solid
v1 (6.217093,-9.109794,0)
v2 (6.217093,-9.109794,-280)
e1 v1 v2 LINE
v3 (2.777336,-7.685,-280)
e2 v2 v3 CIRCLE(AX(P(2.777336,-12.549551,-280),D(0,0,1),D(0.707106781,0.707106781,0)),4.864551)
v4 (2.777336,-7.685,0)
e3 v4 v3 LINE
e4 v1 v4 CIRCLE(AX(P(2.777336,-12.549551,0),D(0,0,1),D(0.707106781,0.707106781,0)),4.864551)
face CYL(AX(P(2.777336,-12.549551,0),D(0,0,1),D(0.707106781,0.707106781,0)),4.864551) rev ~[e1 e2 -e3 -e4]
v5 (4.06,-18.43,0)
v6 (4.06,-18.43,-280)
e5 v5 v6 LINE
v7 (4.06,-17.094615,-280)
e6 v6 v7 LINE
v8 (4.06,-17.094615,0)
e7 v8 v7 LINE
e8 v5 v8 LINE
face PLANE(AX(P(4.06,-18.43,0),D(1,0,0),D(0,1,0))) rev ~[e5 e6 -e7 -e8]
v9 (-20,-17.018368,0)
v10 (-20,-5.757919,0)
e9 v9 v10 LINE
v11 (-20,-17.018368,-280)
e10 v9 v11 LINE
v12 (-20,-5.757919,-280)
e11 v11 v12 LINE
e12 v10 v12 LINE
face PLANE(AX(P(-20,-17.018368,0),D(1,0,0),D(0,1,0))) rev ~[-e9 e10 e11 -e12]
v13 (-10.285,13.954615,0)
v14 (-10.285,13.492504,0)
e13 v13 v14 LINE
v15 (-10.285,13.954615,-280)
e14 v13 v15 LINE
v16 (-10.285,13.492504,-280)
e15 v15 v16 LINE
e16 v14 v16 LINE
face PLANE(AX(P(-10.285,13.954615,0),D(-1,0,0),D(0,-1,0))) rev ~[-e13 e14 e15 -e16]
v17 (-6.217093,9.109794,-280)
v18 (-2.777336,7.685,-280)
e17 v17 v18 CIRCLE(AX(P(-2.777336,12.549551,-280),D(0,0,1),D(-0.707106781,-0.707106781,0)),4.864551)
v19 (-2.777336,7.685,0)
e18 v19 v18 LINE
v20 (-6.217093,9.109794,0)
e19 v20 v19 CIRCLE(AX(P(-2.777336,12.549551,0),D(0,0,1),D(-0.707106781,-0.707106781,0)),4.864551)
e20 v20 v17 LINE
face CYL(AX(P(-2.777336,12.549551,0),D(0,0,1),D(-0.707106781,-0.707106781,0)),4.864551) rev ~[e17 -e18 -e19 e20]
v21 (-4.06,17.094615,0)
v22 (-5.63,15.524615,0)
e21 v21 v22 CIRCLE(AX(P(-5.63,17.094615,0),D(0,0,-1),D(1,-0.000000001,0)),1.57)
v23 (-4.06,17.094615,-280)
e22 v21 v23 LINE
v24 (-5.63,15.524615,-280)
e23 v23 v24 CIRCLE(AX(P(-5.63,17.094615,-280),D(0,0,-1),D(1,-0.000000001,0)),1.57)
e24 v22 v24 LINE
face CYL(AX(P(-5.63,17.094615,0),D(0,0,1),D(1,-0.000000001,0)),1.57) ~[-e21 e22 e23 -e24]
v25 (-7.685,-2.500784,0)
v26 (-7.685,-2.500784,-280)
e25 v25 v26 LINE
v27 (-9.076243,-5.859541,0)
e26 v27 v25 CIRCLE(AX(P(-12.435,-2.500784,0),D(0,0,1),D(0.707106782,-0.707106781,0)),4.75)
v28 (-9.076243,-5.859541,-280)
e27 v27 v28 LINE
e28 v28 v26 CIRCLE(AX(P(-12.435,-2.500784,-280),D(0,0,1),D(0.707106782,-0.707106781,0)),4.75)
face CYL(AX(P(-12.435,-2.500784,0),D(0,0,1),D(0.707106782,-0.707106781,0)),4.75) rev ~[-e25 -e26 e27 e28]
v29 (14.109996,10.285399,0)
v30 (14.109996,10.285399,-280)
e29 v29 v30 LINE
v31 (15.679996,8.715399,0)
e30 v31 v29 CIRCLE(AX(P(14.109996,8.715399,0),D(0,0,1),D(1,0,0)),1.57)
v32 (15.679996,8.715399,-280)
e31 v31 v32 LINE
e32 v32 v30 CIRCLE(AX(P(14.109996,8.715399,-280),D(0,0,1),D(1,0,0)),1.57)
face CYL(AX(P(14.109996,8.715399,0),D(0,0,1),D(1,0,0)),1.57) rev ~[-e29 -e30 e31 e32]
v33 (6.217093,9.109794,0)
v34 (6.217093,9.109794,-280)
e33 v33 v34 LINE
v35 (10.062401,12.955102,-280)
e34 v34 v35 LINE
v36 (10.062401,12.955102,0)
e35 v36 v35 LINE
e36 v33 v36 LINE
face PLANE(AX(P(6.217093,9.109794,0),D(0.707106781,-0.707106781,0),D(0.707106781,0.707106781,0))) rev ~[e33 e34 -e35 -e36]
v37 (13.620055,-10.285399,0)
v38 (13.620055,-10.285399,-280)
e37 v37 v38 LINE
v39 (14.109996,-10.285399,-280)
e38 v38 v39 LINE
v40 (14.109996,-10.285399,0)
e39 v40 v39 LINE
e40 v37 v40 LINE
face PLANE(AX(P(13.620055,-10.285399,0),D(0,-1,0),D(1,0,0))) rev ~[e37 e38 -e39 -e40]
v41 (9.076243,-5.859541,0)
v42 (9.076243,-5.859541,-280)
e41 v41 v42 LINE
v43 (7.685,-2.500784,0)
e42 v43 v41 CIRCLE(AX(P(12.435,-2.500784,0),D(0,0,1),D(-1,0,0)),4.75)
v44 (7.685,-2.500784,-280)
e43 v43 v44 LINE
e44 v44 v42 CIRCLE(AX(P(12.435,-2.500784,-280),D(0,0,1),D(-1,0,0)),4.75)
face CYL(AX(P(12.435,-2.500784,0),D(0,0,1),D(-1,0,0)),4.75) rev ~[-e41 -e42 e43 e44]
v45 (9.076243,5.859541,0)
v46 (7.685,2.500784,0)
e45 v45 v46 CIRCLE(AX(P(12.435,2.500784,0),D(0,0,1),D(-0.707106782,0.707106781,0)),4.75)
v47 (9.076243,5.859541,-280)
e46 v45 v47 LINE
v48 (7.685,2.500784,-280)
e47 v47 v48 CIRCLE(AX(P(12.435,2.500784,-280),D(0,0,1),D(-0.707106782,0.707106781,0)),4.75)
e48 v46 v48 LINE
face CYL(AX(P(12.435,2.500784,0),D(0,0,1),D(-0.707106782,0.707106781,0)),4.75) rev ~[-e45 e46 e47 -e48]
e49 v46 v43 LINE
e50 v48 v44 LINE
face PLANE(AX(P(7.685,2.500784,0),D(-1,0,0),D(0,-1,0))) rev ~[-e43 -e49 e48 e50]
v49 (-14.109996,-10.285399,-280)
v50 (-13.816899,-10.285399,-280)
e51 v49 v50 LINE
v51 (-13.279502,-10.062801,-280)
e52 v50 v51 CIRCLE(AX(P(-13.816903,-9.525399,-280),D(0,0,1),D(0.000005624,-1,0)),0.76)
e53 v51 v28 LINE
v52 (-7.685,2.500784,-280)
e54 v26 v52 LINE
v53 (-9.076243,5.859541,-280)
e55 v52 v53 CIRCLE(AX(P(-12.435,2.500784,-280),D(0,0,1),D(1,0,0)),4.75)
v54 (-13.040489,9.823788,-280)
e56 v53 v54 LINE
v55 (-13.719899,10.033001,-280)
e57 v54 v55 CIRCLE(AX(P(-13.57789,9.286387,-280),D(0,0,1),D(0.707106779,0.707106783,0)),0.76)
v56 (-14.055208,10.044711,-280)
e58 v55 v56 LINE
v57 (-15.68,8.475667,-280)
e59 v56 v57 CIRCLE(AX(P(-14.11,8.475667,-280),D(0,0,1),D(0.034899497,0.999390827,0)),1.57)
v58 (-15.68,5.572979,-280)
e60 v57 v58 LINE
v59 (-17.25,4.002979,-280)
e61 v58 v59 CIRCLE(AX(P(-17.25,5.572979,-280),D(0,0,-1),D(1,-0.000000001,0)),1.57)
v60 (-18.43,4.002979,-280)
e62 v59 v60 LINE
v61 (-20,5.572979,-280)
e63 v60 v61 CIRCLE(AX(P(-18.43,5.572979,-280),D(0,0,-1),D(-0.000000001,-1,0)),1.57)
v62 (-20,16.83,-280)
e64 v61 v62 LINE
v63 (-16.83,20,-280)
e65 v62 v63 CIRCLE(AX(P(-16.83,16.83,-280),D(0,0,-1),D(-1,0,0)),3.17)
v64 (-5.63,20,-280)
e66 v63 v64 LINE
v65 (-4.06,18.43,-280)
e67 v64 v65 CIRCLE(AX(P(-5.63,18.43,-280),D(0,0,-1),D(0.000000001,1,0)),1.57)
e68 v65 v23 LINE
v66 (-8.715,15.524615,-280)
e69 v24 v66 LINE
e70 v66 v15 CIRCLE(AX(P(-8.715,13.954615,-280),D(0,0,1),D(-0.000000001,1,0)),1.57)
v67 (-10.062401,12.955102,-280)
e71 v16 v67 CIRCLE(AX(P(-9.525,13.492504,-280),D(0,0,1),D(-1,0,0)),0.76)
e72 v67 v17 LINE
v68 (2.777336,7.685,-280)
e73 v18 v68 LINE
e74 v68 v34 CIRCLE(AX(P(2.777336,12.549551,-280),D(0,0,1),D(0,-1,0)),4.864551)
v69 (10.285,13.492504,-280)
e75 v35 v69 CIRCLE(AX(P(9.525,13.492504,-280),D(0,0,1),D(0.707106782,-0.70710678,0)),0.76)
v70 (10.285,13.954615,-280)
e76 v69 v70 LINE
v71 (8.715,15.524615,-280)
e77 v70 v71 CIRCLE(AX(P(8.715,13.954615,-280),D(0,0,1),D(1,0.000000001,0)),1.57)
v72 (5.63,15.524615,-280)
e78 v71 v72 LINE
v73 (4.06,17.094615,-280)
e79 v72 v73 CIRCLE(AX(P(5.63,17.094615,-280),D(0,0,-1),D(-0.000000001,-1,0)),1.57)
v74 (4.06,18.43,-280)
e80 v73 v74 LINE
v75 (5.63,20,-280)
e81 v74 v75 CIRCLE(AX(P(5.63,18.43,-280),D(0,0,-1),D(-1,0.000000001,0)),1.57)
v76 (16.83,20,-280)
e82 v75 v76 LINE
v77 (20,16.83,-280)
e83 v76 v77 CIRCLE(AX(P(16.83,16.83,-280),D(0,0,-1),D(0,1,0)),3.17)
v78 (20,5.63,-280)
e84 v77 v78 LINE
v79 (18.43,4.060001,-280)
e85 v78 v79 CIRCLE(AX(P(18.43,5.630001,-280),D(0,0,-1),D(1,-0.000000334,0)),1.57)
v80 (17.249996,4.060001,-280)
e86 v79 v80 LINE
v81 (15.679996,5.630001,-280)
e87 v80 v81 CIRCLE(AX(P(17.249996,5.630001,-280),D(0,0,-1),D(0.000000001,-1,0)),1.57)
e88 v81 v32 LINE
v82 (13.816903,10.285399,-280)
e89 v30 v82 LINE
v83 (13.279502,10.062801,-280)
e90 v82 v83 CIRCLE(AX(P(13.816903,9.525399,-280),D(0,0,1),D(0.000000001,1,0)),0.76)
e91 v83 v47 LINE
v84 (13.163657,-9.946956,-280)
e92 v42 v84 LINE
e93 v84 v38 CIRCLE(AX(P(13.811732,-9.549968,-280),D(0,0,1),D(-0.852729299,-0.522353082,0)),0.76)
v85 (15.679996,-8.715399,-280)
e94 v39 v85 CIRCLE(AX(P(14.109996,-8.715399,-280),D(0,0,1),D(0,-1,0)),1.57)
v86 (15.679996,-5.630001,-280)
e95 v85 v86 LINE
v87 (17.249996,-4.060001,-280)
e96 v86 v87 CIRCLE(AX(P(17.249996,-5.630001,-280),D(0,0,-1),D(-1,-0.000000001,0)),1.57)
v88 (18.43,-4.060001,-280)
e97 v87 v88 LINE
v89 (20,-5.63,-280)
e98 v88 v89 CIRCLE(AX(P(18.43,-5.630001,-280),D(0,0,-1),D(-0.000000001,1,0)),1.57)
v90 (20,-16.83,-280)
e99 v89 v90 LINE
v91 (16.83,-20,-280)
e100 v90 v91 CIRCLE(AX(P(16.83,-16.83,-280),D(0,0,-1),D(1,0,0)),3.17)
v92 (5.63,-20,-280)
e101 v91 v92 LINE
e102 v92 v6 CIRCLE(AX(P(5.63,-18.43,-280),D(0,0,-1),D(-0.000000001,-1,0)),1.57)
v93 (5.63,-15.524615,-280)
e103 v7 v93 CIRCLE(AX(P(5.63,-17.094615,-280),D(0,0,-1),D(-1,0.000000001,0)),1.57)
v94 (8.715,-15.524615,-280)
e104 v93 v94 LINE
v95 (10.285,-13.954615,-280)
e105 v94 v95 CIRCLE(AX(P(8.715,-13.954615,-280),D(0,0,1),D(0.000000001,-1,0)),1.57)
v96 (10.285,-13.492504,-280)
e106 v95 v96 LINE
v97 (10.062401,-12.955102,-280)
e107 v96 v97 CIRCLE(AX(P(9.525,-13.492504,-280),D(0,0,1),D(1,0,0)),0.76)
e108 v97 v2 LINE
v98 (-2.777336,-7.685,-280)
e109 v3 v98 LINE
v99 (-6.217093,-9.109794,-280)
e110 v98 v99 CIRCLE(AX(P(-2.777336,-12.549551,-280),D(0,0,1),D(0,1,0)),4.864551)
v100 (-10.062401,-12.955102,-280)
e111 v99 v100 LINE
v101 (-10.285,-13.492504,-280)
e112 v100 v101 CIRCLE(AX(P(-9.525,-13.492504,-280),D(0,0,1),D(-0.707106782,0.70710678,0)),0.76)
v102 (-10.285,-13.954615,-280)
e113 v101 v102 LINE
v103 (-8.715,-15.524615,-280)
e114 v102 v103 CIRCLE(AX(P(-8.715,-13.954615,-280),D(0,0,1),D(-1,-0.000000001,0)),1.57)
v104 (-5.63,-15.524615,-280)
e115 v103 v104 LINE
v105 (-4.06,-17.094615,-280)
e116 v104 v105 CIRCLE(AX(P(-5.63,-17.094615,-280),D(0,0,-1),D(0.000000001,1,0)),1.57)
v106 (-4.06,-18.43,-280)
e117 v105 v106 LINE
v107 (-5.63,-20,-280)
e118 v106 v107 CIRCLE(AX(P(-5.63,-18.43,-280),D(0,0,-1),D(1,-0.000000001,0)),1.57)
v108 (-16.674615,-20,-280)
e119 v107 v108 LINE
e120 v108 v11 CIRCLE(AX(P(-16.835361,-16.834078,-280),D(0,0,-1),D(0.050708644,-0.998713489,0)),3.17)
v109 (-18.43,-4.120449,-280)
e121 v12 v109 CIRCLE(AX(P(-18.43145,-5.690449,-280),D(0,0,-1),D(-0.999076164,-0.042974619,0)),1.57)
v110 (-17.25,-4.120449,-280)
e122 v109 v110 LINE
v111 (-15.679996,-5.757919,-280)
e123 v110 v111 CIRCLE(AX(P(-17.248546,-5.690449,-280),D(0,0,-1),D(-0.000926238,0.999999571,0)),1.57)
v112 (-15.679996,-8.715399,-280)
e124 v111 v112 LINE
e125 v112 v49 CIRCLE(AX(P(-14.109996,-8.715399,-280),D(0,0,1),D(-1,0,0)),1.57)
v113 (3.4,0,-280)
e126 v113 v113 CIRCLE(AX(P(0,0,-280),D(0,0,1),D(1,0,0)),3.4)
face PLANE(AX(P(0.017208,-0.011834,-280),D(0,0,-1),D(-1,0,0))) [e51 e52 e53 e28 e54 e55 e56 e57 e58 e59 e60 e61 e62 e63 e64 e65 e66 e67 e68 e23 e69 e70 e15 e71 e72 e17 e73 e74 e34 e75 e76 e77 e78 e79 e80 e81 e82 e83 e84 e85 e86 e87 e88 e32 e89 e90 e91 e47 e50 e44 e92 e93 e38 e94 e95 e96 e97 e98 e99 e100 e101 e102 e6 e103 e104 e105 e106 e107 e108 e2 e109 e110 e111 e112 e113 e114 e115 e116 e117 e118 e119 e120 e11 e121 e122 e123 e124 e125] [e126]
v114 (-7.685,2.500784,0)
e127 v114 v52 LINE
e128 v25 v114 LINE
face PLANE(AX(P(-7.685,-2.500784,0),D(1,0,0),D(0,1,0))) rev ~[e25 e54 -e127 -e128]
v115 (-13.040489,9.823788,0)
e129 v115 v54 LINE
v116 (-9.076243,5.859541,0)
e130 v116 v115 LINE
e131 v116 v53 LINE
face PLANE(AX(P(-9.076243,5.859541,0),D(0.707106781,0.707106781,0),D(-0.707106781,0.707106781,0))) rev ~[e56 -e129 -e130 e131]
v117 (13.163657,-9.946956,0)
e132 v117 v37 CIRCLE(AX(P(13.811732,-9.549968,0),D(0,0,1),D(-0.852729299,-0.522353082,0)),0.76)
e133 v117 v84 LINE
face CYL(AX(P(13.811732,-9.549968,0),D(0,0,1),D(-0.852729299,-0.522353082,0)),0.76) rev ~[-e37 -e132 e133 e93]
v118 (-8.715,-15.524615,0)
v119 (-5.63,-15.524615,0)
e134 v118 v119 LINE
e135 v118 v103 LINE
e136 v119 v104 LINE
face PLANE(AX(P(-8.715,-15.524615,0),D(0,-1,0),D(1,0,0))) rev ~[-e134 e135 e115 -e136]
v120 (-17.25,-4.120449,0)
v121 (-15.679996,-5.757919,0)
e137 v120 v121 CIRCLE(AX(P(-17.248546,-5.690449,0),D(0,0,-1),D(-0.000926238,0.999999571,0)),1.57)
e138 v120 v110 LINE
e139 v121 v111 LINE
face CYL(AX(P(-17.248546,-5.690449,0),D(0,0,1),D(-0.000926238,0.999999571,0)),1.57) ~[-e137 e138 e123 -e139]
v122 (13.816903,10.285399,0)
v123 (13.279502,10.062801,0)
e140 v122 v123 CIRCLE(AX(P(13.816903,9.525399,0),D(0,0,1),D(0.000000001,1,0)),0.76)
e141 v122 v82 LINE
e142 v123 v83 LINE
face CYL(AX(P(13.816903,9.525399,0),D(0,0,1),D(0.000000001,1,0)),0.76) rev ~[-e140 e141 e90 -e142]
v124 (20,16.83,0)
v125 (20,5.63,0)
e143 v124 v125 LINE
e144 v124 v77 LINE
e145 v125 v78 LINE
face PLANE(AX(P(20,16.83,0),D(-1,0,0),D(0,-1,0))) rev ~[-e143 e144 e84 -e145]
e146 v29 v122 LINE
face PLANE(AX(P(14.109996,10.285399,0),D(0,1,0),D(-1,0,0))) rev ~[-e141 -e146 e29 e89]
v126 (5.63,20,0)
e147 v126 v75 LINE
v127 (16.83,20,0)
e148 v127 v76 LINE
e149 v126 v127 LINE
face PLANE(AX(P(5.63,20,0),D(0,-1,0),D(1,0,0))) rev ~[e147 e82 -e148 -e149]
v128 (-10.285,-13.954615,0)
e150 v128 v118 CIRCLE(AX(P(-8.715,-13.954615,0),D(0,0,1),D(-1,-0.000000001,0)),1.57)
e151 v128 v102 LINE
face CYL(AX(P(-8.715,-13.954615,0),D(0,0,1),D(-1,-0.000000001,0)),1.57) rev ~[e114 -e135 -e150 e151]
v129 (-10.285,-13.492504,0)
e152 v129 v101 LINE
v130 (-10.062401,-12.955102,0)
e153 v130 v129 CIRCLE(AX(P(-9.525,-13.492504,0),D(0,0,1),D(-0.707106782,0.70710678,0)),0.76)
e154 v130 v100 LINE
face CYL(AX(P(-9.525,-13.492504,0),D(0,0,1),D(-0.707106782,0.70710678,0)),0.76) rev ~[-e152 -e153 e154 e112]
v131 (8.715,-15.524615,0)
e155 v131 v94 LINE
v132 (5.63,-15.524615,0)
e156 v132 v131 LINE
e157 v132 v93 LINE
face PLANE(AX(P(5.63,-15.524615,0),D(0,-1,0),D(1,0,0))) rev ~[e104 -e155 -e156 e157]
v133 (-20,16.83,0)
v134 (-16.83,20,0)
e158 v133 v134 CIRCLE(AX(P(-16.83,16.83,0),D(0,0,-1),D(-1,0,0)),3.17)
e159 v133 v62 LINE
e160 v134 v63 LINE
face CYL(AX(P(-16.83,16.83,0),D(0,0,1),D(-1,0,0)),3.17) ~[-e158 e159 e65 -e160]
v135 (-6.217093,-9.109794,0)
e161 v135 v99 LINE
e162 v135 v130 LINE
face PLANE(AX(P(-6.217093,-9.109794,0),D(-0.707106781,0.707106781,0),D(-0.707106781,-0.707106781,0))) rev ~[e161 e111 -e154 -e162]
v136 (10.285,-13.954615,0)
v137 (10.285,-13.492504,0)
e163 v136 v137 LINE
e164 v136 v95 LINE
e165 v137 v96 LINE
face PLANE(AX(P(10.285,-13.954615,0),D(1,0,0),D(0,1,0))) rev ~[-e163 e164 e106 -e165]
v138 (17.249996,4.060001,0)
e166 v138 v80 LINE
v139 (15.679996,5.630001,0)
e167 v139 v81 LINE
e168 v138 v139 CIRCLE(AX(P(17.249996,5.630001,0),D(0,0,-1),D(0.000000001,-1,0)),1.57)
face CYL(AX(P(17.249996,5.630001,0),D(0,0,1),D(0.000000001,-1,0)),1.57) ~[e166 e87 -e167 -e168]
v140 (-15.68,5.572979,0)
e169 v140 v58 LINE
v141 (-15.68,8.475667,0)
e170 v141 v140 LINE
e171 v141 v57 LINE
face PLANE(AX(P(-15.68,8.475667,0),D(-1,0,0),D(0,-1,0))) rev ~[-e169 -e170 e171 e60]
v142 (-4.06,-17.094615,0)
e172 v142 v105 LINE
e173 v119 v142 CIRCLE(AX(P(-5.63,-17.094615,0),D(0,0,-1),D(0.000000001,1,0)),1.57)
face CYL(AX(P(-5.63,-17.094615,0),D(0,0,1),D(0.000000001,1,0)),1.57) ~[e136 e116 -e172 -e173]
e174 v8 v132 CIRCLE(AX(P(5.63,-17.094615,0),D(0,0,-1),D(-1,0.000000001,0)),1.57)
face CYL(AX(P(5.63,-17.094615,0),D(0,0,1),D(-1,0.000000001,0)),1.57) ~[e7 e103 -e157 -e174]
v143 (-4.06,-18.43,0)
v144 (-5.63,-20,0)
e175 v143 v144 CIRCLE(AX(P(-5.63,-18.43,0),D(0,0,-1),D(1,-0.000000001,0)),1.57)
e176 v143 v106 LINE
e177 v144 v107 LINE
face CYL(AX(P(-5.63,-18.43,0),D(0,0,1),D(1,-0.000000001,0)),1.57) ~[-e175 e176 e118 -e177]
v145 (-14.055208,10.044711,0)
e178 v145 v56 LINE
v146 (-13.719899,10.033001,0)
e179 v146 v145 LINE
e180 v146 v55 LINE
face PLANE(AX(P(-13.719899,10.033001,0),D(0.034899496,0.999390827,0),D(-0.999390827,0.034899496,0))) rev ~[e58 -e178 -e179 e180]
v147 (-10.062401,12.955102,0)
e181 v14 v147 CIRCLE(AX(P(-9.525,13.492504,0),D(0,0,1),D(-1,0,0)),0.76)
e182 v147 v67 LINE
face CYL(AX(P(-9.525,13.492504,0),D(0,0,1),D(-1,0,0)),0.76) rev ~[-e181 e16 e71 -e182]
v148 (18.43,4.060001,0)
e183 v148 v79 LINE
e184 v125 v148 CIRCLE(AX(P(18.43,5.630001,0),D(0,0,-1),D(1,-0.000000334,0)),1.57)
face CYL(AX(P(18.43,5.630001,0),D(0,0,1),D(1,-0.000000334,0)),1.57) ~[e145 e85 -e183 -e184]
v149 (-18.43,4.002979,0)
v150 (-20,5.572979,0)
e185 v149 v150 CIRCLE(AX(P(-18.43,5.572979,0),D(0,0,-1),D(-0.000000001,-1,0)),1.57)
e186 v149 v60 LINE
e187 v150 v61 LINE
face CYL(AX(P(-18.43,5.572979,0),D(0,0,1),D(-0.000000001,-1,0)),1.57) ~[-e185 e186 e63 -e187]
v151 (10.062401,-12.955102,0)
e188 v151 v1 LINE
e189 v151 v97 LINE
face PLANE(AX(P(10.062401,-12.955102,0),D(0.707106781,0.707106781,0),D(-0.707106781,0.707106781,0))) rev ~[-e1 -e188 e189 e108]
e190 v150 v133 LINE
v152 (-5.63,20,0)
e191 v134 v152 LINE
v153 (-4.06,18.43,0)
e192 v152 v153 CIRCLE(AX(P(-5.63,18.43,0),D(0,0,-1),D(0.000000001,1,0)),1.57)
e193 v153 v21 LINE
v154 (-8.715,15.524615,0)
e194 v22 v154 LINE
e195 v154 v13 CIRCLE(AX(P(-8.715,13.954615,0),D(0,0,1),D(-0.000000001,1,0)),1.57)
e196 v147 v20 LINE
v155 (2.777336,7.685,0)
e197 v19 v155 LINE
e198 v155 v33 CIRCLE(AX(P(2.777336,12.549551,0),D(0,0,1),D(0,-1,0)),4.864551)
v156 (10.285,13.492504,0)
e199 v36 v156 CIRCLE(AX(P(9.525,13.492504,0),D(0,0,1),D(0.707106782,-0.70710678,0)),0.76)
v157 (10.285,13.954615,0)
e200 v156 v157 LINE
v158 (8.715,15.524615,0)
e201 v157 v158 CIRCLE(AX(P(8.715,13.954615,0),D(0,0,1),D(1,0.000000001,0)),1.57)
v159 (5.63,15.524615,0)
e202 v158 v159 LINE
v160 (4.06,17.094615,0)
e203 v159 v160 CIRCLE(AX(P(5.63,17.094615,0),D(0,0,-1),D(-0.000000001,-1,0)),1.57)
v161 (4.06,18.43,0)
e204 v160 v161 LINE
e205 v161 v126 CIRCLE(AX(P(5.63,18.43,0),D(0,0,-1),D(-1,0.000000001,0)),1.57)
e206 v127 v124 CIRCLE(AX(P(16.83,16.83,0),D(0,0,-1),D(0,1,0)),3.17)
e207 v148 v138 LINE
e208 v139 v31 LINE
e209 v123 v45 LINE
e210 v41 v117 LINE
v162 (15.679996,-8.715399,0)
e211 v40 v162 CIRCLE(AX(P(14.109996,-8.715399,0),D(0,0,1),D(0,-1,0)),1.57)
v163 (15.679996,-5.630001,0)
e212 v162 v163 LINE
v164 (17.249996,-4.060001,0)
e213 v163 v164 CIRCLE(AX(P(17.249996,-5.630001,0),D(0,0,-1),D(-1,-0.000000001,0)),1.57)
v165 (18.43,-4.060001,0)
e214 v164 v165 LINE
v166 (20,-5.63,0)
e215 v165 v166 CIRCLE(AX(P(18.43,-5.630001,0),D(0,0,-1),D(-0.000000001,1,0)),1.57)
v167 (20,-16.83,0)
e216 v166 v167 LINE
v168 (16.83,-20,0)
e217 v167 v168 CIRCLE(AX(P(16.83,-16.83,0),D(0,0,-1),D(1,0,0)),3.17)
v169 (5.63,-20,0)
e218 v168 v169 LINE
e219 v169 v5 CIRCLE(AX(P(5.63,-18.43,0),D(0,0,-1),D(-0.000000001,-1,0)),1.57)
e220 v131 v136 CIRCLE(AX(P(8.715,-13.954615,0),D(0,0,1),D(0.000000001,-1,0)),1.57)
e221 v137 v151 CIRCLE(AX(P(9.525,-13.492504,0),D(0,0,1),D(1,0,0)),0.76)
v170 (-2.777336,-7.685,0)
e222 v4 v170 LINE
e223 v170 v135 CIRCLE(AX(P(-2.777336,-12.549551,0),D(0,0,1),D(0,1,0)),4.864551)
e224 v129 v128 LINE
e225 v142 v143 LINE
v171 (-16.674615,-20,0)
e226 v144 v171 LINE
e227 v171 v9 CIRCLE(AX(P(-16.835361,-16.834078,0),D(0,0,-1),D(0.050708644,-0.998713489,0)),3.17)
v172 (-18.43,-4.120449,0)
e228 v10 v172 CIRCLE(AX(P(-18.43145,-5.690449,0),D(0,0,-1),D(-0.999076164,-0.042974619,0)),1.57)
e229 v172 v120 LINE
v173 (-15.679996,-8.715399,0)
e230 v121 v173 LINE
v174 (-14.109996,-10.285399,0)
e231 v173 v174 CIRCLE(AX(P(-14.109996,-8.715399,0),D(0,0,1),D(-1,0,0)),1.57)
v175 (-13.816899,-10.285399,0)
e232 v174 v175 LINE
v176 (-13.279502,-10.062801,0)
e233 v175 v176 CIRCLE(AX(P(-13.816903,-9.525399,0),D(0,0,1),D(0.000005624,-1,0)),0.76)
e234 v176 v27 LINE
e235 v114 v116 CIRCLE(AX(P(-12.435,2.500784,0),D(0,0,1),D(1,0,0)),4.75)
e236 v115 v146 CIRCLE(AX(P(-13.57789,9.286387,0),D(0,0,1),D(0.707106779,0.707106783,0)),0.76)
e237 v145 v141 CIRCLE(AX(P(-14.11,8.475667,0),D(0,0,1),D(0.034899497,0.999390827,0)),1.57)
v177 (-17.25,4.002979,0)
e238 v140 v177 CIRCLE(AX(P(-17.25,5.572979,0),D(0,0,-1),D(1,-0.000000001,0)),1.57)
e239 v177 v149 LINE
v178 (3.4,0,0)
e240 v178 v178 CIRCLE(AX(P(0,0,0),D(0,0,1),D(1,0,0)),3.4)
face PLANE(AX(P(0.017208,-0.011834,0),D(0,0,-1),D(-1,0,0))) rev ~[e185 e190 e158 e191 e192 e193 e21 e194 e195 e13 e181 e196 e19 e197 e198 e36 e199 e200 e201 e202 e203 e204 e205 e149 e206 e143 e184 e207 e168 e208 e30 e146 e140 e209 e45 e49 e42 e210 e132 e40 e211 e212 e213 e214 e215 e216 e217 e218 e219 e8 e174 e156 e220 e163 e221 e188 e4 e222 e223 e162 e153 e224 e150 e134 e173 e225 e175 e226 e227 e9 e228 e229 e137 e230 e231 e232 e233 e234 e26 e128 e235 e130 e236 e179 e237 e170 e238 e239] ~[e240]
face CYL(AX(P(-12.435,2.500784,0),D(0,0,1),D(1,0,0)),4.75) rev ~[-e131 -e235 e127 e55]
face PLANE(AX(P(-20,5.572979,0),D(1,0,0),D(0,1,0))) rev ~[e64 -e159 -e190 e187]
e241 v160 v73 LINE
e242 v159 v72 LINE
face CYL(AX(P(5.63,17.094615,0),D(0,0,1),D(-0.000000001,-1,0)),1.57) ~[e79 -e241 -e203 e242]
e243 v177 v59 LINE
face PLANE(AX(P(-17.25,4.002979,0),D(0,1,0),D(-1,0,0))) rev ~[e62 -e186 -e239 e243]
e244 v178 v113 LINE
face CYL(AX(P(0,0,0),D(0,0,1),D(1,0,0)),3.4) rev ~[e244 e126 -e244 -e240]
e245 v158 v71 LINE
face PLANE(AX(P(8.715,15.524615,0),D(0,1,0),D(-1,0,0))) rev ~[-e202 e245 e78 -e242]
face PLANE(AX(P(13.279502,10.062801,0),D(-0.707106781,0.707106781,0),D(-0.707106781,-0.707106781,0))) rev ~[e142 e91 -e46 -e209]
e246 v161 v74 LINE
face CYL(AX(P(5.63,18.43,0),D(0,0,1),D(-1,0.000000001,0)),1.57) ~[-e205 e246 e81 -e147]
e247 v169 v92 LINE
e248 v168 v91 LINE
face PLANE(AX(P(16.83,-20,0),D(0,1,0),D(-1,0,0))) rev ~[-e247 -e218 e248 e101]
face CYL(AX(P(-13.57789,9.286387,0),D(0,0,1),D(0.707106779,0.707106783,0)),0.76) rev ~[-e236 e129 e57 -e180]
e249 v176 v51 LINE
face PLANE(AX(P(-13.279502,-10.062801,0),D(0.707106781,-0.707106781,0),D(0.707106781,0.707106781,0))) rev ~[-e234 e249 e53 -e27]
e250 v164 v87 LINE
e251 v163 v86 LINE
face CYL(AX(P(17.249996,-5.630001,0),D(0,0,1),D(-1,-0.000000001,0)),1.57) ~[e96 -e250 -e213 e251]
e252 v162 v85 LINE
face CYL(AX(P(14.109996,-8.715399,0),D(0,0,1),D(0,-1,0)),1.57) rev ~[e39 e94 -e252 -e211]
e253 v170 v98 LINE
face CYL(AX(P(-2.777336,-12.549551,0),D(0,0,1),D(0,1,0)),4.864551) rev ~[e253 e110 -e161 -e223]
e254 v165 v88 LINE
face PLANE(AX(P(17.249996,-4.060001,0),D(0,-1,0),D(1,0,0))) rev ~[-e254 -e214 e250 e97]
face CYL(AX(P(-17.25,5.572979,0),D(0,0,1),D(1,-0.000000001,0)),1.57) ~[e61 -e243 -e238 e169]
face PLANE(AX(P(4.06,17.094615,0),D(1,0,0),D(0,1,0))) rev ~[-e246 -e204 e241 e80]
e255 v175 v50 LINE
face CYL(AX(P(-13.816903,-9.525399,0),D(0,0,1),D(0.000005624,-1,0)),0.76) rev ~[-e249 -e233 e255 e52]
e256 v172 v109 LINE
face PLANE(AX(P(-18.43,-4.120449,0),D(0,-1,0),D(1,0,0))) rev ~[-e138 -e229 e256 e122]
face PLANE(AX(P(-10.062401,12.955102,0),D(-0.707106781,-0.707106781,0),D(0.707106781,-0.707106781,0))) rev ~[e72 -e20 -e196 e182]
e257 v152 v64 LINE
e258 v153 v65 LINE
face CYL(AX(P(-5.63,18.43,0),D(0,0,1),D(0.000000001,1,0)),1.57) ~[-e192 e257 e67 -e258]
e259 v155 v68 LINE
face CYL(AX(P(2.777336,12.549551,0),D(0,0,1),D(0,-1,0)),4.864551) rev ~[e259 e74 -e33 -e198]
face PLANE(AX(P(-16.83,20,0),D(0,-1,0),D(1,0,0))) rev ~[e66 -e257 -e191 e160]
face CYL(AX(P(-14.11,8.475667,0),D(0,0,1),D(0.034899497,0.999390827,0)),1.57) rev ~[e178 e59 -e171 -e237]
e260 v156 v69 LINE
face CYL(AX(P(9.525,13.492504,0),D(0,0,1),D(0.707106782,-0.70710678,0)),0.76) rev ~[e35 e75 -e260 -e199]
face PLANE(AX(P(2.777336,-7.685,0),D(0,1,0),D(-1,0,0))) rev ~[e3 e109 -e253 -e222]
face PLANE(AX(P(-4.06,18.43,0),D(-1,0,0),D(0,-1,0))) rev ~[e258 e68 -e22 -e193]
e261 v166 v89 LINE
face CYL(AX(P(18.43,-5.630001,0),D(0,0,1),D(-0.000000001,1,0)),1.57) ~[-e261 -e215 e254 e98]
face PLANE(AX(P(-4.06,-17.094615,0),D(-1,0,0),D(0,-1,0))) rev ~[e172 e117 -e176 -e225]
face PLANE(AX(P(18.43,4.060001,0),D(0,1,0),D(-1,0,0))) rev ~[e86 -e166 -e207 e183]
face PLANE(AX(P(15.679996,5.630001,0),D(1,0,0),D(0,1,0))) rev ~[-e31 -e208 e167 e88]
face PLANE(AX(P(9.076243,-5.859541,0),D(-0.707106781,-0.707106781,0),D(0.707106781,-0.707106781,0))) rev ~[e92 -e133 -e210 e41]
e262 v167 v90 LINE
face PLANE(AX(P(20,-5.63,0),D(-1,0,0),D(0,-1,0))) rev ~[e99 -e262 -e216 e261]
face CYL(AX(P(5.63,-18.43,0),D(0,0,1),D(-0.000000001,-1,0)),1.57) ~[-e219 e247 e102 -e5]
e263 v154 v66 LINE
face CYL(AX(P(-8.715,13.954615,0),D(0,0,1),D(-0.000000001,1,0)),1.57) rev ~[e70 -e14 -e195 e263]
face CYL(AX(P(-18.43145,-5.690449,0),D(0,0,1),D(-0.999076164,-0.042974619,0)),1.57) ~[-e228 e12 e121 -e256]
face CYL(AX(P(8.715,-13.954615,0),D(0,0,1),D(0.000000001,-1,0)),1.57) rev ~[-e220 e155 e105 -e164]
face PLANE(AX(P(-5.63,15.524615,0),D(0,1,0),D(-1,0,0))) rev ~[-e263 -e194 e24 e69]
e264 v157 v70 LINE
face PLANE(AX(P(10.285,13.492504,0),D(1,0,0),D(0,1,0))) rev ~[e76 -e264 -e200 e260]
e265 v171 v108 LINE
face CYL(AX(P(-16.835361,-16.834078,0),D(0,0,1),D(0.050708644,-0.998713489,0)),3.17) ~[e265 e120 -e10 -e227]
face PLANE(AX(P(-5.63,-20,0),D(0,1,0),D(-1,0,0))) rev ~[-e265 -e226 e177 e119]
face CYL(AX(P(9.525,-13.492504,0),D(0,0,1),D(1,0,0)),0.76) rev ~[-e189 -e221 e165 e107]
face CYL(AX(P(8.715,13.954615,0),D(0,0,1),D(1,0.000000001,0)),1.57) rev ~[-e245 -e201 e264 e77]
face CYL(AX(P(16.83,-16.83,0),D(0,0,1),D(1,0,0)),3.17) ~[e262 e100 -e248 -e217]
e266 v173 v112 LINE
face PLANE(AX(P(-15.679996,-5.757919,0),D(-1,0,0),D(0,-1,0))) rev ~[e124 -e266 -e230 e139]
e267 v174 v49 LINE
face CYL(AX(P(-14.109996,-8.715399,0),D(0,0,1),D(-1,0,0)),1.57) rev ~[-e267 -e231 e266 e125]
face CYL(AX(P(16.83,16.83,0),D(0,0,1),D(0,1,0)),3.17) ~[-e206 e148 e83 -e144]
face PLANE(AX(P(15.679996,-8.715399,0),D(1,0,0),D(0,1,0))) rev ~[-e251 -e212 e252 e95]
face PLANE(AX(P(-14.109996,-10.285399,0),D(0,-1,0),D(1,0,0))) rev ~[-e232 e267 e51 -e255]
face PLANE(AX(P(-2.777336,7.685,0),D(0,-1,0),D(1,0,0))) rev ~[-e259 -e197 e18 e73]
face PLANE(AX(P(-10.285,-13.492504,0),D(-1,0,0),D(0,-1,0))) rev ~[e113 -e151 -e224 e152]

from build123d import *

# Parameters (mm, degrees)
SKETCH1_R      = 3.4
EXTRUDE1_DEPTH = 280


with BuildPart() as part:
    # Sketch1 → Extrude1 (new body)
    with BuildSketch(Plane.XY):
        with BuildLine():
            Line((-8.715, -15.524615034), (-5.63, -15.524615034))
            ThreePointArc((-5.63, -15.524615034), (-4.519842354, -15.984457388), (-4.06, -17.094615034))
            Line((-4.06, -17.094615034), (-4.06, -18.43))
            ThreePointArc((-4.06, -18.43), (-4.519842354, -19.540157646), (-5.63, -20))
            Line((-5.63, -20), (-16.674615034, -20))
            ThreePointArc((-16.674615034, -20), (-18.951578385, -19.194274381), (-20, -17.018368134))
            Line((-20, -17.018368134), (-20, -5.757918808))
            ThreePointArc((-20, -5.757918808), (-19.564709668, -4.603883664), (-18.43, -4.120449326))
            Line((-18.43, -4.120449326), (-17.25, -4.120449326))
            ThreePointArc((-17.25, -4.120449326), (-16.115287682, -4.60388249), (-15.67999625, -5.757919334))
            Line((-15.67999625, -5.757919334), (-15.67999625, -8.715399492))
            ThreePointArc((-15.67999625, -8.715399492), (-15.220153896, -9.825557139), (-14.10999625, -10.285399492))
            Line((-14.10999625, -10.285399492), (-13.816898819, -10.285399492))
            ThreePointArc((-13.816898819, -10.285399492), (-13.526061711, -10.227547119), (-13.279501941, -10.062800646))
            Line((-13.279501941, -10.062800646), (-9.076242789, -5.859541495))
            ThreePointArc((-9.076242789, -5.859541495), (-8.046572221, -4.318530588), (-7.685, -2.500784284))
            Line((-7.685, -2.500784284), (-7.685, 2.500784284))
            ThreePointArc((-7.685, 2.500784284), (-8.046572221, 4.318530588), (-9.076242789, 5.859541495))
            Line((-9.076242789, 5.859541495), (-13.040489136, 9.823787841))
            ThreePointArc((-13.040489136, 9.823787841), (-13.354224618, 10.012729352), (-13.71989919, 10.033001362))
            Line((-13.71989919, 10.033001362), (-14.05520779, 10.044710596))
            ThreePointArc((-14.05520779, 10.044710596), (-15.200613642, 9.605030484), (-15.68, 8.475666998))
            Line((-15.68, 8.475666998), (-15.68, 5.572979049))
            ThreePointArc((-15.68, 5.572979049), (-16.139842354, 4.462821403), (-17.25, 4.002979049))
            Line((-17.25, 4.002979049), (-18.43, 4.002979049))
            ThreePointArc((-18.43, 4.002979049), (-19.540157646, 4.462821403), (-20, 5.572979049))
            Line((-20, 5.572979049), (-20, 13.004526564))
            Line((-20, 13.004526564), (-20, 16.83))
            ThreePointArc((-20, 16.83), (-19.071528496, 19.071528496), (-16.83, 20))
            Line((-16.83, 20), (-5.63, 20))
            ThreePointArc((-5.63, 20), (-4.519842354, 19.540157646), (-4.06, 18.43))
            Line((-4.06, 18.43), (-4.06, 17.094615034))
            ThreePointArc((-4.06, 17.094615034), (-4.519842354, 15.984457388), (-5.63, 15.524615034))
            Line((-5.63, 15.524615034), (-8.715, 15.524615034))
            ThreePointArc((-8.715, 15.524615034), (-9.825157646, 15.06477268), (-10.285, 13.954615034))
            Line((-10.285, 13.954615034), (-10.285, 13.492503602))
            ThreePointArc((-10.285, 13.492503602), (-10.227148445, 13.201664194), (-10.062401154, 12.955102448))
            Line((-10.062401154, 12.955102448), (-6.217092793, 9.109794088))
            ThreePointArc((-6.217092793, 9.109794088), (-4.63891877, 8.055291919), (-2.777335583, 7.685))
            Line((-2.777335583, 7.685), (2.777335583, 7.685))
            ThreePointArc((2.777335583, 7.685), (4.63891877, 8.055291919), (6.217092793, 9.109794088))
            Line((6.217092793, 9.109794088), (10.062401154, 12.955102448))
            ThreePointArc((10.062401154, 12.955102448), (10.227148445, 13.201664194), (10.285, 13.492503602))
            Line((10.285, 13.492503602), (10.285, 13.954615034))
            ThreePointArc((10.285, 13.954615034), (9.825157646, 15.06477268), (8.715, 15.524615034))
            Line((8.715, 15.524615034), (5.63, 15.524615034))
            ThreePointArc((5.63, 15.524615034), (4.519842354, 15.984457388), (4.06, 17.094615034))
            Line((4.06, 17.094615034), (4.06, 18.43))
            ThreePointArc((4.06, 18.43), (4.519842354, 19.540157646), (5.63, 20))
            Line((5.63, 20), (12.979635074, 20))
            Line((12.979635074, 20), (16.83, 20))
            ThreePointArc((16.83, 20), (19.071528496, 19.071528496), (20, 16.83))
            Line((20, 16.83), (20, 13.001098436))
            Line((20, 13.001098436), (20, 5.63))
            ThreePointArc((20, 5.63), (19.540157461, 4.519842693), (18.43, 4.060000526))
            Line((18.43, 4.060000526), (17.24999625, 4.060000526))
            ThreePointArc((17.24999625, 4.060000526), (16.139838603, 4.519842879), (15.67999625, 5.630000526))
            Line((15.67999625, 5.630000526), (15.67999625, 8.715399492))
            ThreePointArc((15.67999625, 8.715399492), (15.220153896, 9.825557139), (14.10999625, 10.285399492))
            Line((14.10999625, 10.285399492), (13.816903094, 10.285399492))
            ThreePointArc((13.816903094, 10.285399492), (13.526063686, 10.227547937), (13.279501941, 10.062800646))
            Line((13.279501941, 10.062800646), (9.076242789, 5.859541495))
            ThreePointArc((9.076242789, 5.859541495), (8.046572221, 4.318530588), (7.685, 2.500784284))
            Line((7.685, 2.500784284), (7.685, -2.500784284))
            ThreePointArc((7.685, -2.500784284), (8.046572221, -4.318530588), (9.076242789, -5.859541495))
            Line((9.076242789, -5.859541495), (13.163657296, -9.946956002))
            ThreePointArc((13.163657296, -9.946956002), (13.35903797, -10.160433474), (13.6200547, -10.285399492))
            Line((13.6200547, -10.285399492), (14.10999625, -10.285399492))
            ThreePointArc((14.10999625, -10.285399492), (15.220153896, -9.825557139), (15.67999625, -8.715399492))
            Line((15.67999625, -8.715399492), (15.67999625, -5.630000526))
            ThreePointArc((15.67999625, -5.630000526), (16.139838603, -4.519842879), (17.24999625, -4.060000526))
            Line((17.24999625, -4.060000526), (18.43, -4.060000526))
            ThreePointArc((18.43, -4.060000526), (19.540157461, -4.519842693), (20, -5.63))
            Line((20, -5.63), (20, -16.83))
            ThreePointArc((20, -16.83), (19.071528496, -19.071528496), (16.83, -20))
            Line((16.83, -20), (13, -20))
            Line((13, -20), (5.63, -20))
            ThreePointArc((5.63, -20), (4.519842354, -19.540157646), (4.06, -18.43))
            Line((4.06, -18.43), (4.06, -17.094615034))
            ThreePointArc((4.06, -17.094615034), (4.519842354, -15.984457388), (5.63, -15.524615034))
            Line((5.63, -15.524615034), (8.715, -15.524615034))
            ThreePointArc((8.715, -15.524615034), (9.825157646, -15.06477268), (10.285, -13.954615034))
            Line((10.285, -13.954615034), (10.285, -13.492503602))
            ThreePointArc((10.285, -13.492503602), (10.227148445, -13.201664194), (10.062401154, -12.955102448))
            Line((10.062401154, -12.955102448), (6.217092793, -9.109794088))
            ThreePointArc((6.217092793, -9.109794088), (4.63891877, -8.055291919), (2.777335583, -7.685))
            Line((2.777335583, -7.685), (-2.777335583, -7.685))
            ThreePointArc((-2.777335583, -7.685), (-4.63891877, -8.055291919), (-6.217092793, -9.109794088))
            Line((-6.217092793, -9.109794088), (-10.062401154, -12.955102448))
            ThreePointArc((-10.062401154, -12.955102448), (-10.227148445, -13.201664194), (-10.285, -13.492503602))
            Line((-10.285, -13.492503602), (-10.285, -13.954615034))
            ThreePointArc((-10.285, -13.954615034), (-9.825157646, -15.06477268), (-8.715, -15.524615034))
        make_face()
        Circle(SKETCH1_R, mode=Mode.SUBTRACT)
    extrude(amount=-EXTRUDE1_DEPTH)


solid = part.part
